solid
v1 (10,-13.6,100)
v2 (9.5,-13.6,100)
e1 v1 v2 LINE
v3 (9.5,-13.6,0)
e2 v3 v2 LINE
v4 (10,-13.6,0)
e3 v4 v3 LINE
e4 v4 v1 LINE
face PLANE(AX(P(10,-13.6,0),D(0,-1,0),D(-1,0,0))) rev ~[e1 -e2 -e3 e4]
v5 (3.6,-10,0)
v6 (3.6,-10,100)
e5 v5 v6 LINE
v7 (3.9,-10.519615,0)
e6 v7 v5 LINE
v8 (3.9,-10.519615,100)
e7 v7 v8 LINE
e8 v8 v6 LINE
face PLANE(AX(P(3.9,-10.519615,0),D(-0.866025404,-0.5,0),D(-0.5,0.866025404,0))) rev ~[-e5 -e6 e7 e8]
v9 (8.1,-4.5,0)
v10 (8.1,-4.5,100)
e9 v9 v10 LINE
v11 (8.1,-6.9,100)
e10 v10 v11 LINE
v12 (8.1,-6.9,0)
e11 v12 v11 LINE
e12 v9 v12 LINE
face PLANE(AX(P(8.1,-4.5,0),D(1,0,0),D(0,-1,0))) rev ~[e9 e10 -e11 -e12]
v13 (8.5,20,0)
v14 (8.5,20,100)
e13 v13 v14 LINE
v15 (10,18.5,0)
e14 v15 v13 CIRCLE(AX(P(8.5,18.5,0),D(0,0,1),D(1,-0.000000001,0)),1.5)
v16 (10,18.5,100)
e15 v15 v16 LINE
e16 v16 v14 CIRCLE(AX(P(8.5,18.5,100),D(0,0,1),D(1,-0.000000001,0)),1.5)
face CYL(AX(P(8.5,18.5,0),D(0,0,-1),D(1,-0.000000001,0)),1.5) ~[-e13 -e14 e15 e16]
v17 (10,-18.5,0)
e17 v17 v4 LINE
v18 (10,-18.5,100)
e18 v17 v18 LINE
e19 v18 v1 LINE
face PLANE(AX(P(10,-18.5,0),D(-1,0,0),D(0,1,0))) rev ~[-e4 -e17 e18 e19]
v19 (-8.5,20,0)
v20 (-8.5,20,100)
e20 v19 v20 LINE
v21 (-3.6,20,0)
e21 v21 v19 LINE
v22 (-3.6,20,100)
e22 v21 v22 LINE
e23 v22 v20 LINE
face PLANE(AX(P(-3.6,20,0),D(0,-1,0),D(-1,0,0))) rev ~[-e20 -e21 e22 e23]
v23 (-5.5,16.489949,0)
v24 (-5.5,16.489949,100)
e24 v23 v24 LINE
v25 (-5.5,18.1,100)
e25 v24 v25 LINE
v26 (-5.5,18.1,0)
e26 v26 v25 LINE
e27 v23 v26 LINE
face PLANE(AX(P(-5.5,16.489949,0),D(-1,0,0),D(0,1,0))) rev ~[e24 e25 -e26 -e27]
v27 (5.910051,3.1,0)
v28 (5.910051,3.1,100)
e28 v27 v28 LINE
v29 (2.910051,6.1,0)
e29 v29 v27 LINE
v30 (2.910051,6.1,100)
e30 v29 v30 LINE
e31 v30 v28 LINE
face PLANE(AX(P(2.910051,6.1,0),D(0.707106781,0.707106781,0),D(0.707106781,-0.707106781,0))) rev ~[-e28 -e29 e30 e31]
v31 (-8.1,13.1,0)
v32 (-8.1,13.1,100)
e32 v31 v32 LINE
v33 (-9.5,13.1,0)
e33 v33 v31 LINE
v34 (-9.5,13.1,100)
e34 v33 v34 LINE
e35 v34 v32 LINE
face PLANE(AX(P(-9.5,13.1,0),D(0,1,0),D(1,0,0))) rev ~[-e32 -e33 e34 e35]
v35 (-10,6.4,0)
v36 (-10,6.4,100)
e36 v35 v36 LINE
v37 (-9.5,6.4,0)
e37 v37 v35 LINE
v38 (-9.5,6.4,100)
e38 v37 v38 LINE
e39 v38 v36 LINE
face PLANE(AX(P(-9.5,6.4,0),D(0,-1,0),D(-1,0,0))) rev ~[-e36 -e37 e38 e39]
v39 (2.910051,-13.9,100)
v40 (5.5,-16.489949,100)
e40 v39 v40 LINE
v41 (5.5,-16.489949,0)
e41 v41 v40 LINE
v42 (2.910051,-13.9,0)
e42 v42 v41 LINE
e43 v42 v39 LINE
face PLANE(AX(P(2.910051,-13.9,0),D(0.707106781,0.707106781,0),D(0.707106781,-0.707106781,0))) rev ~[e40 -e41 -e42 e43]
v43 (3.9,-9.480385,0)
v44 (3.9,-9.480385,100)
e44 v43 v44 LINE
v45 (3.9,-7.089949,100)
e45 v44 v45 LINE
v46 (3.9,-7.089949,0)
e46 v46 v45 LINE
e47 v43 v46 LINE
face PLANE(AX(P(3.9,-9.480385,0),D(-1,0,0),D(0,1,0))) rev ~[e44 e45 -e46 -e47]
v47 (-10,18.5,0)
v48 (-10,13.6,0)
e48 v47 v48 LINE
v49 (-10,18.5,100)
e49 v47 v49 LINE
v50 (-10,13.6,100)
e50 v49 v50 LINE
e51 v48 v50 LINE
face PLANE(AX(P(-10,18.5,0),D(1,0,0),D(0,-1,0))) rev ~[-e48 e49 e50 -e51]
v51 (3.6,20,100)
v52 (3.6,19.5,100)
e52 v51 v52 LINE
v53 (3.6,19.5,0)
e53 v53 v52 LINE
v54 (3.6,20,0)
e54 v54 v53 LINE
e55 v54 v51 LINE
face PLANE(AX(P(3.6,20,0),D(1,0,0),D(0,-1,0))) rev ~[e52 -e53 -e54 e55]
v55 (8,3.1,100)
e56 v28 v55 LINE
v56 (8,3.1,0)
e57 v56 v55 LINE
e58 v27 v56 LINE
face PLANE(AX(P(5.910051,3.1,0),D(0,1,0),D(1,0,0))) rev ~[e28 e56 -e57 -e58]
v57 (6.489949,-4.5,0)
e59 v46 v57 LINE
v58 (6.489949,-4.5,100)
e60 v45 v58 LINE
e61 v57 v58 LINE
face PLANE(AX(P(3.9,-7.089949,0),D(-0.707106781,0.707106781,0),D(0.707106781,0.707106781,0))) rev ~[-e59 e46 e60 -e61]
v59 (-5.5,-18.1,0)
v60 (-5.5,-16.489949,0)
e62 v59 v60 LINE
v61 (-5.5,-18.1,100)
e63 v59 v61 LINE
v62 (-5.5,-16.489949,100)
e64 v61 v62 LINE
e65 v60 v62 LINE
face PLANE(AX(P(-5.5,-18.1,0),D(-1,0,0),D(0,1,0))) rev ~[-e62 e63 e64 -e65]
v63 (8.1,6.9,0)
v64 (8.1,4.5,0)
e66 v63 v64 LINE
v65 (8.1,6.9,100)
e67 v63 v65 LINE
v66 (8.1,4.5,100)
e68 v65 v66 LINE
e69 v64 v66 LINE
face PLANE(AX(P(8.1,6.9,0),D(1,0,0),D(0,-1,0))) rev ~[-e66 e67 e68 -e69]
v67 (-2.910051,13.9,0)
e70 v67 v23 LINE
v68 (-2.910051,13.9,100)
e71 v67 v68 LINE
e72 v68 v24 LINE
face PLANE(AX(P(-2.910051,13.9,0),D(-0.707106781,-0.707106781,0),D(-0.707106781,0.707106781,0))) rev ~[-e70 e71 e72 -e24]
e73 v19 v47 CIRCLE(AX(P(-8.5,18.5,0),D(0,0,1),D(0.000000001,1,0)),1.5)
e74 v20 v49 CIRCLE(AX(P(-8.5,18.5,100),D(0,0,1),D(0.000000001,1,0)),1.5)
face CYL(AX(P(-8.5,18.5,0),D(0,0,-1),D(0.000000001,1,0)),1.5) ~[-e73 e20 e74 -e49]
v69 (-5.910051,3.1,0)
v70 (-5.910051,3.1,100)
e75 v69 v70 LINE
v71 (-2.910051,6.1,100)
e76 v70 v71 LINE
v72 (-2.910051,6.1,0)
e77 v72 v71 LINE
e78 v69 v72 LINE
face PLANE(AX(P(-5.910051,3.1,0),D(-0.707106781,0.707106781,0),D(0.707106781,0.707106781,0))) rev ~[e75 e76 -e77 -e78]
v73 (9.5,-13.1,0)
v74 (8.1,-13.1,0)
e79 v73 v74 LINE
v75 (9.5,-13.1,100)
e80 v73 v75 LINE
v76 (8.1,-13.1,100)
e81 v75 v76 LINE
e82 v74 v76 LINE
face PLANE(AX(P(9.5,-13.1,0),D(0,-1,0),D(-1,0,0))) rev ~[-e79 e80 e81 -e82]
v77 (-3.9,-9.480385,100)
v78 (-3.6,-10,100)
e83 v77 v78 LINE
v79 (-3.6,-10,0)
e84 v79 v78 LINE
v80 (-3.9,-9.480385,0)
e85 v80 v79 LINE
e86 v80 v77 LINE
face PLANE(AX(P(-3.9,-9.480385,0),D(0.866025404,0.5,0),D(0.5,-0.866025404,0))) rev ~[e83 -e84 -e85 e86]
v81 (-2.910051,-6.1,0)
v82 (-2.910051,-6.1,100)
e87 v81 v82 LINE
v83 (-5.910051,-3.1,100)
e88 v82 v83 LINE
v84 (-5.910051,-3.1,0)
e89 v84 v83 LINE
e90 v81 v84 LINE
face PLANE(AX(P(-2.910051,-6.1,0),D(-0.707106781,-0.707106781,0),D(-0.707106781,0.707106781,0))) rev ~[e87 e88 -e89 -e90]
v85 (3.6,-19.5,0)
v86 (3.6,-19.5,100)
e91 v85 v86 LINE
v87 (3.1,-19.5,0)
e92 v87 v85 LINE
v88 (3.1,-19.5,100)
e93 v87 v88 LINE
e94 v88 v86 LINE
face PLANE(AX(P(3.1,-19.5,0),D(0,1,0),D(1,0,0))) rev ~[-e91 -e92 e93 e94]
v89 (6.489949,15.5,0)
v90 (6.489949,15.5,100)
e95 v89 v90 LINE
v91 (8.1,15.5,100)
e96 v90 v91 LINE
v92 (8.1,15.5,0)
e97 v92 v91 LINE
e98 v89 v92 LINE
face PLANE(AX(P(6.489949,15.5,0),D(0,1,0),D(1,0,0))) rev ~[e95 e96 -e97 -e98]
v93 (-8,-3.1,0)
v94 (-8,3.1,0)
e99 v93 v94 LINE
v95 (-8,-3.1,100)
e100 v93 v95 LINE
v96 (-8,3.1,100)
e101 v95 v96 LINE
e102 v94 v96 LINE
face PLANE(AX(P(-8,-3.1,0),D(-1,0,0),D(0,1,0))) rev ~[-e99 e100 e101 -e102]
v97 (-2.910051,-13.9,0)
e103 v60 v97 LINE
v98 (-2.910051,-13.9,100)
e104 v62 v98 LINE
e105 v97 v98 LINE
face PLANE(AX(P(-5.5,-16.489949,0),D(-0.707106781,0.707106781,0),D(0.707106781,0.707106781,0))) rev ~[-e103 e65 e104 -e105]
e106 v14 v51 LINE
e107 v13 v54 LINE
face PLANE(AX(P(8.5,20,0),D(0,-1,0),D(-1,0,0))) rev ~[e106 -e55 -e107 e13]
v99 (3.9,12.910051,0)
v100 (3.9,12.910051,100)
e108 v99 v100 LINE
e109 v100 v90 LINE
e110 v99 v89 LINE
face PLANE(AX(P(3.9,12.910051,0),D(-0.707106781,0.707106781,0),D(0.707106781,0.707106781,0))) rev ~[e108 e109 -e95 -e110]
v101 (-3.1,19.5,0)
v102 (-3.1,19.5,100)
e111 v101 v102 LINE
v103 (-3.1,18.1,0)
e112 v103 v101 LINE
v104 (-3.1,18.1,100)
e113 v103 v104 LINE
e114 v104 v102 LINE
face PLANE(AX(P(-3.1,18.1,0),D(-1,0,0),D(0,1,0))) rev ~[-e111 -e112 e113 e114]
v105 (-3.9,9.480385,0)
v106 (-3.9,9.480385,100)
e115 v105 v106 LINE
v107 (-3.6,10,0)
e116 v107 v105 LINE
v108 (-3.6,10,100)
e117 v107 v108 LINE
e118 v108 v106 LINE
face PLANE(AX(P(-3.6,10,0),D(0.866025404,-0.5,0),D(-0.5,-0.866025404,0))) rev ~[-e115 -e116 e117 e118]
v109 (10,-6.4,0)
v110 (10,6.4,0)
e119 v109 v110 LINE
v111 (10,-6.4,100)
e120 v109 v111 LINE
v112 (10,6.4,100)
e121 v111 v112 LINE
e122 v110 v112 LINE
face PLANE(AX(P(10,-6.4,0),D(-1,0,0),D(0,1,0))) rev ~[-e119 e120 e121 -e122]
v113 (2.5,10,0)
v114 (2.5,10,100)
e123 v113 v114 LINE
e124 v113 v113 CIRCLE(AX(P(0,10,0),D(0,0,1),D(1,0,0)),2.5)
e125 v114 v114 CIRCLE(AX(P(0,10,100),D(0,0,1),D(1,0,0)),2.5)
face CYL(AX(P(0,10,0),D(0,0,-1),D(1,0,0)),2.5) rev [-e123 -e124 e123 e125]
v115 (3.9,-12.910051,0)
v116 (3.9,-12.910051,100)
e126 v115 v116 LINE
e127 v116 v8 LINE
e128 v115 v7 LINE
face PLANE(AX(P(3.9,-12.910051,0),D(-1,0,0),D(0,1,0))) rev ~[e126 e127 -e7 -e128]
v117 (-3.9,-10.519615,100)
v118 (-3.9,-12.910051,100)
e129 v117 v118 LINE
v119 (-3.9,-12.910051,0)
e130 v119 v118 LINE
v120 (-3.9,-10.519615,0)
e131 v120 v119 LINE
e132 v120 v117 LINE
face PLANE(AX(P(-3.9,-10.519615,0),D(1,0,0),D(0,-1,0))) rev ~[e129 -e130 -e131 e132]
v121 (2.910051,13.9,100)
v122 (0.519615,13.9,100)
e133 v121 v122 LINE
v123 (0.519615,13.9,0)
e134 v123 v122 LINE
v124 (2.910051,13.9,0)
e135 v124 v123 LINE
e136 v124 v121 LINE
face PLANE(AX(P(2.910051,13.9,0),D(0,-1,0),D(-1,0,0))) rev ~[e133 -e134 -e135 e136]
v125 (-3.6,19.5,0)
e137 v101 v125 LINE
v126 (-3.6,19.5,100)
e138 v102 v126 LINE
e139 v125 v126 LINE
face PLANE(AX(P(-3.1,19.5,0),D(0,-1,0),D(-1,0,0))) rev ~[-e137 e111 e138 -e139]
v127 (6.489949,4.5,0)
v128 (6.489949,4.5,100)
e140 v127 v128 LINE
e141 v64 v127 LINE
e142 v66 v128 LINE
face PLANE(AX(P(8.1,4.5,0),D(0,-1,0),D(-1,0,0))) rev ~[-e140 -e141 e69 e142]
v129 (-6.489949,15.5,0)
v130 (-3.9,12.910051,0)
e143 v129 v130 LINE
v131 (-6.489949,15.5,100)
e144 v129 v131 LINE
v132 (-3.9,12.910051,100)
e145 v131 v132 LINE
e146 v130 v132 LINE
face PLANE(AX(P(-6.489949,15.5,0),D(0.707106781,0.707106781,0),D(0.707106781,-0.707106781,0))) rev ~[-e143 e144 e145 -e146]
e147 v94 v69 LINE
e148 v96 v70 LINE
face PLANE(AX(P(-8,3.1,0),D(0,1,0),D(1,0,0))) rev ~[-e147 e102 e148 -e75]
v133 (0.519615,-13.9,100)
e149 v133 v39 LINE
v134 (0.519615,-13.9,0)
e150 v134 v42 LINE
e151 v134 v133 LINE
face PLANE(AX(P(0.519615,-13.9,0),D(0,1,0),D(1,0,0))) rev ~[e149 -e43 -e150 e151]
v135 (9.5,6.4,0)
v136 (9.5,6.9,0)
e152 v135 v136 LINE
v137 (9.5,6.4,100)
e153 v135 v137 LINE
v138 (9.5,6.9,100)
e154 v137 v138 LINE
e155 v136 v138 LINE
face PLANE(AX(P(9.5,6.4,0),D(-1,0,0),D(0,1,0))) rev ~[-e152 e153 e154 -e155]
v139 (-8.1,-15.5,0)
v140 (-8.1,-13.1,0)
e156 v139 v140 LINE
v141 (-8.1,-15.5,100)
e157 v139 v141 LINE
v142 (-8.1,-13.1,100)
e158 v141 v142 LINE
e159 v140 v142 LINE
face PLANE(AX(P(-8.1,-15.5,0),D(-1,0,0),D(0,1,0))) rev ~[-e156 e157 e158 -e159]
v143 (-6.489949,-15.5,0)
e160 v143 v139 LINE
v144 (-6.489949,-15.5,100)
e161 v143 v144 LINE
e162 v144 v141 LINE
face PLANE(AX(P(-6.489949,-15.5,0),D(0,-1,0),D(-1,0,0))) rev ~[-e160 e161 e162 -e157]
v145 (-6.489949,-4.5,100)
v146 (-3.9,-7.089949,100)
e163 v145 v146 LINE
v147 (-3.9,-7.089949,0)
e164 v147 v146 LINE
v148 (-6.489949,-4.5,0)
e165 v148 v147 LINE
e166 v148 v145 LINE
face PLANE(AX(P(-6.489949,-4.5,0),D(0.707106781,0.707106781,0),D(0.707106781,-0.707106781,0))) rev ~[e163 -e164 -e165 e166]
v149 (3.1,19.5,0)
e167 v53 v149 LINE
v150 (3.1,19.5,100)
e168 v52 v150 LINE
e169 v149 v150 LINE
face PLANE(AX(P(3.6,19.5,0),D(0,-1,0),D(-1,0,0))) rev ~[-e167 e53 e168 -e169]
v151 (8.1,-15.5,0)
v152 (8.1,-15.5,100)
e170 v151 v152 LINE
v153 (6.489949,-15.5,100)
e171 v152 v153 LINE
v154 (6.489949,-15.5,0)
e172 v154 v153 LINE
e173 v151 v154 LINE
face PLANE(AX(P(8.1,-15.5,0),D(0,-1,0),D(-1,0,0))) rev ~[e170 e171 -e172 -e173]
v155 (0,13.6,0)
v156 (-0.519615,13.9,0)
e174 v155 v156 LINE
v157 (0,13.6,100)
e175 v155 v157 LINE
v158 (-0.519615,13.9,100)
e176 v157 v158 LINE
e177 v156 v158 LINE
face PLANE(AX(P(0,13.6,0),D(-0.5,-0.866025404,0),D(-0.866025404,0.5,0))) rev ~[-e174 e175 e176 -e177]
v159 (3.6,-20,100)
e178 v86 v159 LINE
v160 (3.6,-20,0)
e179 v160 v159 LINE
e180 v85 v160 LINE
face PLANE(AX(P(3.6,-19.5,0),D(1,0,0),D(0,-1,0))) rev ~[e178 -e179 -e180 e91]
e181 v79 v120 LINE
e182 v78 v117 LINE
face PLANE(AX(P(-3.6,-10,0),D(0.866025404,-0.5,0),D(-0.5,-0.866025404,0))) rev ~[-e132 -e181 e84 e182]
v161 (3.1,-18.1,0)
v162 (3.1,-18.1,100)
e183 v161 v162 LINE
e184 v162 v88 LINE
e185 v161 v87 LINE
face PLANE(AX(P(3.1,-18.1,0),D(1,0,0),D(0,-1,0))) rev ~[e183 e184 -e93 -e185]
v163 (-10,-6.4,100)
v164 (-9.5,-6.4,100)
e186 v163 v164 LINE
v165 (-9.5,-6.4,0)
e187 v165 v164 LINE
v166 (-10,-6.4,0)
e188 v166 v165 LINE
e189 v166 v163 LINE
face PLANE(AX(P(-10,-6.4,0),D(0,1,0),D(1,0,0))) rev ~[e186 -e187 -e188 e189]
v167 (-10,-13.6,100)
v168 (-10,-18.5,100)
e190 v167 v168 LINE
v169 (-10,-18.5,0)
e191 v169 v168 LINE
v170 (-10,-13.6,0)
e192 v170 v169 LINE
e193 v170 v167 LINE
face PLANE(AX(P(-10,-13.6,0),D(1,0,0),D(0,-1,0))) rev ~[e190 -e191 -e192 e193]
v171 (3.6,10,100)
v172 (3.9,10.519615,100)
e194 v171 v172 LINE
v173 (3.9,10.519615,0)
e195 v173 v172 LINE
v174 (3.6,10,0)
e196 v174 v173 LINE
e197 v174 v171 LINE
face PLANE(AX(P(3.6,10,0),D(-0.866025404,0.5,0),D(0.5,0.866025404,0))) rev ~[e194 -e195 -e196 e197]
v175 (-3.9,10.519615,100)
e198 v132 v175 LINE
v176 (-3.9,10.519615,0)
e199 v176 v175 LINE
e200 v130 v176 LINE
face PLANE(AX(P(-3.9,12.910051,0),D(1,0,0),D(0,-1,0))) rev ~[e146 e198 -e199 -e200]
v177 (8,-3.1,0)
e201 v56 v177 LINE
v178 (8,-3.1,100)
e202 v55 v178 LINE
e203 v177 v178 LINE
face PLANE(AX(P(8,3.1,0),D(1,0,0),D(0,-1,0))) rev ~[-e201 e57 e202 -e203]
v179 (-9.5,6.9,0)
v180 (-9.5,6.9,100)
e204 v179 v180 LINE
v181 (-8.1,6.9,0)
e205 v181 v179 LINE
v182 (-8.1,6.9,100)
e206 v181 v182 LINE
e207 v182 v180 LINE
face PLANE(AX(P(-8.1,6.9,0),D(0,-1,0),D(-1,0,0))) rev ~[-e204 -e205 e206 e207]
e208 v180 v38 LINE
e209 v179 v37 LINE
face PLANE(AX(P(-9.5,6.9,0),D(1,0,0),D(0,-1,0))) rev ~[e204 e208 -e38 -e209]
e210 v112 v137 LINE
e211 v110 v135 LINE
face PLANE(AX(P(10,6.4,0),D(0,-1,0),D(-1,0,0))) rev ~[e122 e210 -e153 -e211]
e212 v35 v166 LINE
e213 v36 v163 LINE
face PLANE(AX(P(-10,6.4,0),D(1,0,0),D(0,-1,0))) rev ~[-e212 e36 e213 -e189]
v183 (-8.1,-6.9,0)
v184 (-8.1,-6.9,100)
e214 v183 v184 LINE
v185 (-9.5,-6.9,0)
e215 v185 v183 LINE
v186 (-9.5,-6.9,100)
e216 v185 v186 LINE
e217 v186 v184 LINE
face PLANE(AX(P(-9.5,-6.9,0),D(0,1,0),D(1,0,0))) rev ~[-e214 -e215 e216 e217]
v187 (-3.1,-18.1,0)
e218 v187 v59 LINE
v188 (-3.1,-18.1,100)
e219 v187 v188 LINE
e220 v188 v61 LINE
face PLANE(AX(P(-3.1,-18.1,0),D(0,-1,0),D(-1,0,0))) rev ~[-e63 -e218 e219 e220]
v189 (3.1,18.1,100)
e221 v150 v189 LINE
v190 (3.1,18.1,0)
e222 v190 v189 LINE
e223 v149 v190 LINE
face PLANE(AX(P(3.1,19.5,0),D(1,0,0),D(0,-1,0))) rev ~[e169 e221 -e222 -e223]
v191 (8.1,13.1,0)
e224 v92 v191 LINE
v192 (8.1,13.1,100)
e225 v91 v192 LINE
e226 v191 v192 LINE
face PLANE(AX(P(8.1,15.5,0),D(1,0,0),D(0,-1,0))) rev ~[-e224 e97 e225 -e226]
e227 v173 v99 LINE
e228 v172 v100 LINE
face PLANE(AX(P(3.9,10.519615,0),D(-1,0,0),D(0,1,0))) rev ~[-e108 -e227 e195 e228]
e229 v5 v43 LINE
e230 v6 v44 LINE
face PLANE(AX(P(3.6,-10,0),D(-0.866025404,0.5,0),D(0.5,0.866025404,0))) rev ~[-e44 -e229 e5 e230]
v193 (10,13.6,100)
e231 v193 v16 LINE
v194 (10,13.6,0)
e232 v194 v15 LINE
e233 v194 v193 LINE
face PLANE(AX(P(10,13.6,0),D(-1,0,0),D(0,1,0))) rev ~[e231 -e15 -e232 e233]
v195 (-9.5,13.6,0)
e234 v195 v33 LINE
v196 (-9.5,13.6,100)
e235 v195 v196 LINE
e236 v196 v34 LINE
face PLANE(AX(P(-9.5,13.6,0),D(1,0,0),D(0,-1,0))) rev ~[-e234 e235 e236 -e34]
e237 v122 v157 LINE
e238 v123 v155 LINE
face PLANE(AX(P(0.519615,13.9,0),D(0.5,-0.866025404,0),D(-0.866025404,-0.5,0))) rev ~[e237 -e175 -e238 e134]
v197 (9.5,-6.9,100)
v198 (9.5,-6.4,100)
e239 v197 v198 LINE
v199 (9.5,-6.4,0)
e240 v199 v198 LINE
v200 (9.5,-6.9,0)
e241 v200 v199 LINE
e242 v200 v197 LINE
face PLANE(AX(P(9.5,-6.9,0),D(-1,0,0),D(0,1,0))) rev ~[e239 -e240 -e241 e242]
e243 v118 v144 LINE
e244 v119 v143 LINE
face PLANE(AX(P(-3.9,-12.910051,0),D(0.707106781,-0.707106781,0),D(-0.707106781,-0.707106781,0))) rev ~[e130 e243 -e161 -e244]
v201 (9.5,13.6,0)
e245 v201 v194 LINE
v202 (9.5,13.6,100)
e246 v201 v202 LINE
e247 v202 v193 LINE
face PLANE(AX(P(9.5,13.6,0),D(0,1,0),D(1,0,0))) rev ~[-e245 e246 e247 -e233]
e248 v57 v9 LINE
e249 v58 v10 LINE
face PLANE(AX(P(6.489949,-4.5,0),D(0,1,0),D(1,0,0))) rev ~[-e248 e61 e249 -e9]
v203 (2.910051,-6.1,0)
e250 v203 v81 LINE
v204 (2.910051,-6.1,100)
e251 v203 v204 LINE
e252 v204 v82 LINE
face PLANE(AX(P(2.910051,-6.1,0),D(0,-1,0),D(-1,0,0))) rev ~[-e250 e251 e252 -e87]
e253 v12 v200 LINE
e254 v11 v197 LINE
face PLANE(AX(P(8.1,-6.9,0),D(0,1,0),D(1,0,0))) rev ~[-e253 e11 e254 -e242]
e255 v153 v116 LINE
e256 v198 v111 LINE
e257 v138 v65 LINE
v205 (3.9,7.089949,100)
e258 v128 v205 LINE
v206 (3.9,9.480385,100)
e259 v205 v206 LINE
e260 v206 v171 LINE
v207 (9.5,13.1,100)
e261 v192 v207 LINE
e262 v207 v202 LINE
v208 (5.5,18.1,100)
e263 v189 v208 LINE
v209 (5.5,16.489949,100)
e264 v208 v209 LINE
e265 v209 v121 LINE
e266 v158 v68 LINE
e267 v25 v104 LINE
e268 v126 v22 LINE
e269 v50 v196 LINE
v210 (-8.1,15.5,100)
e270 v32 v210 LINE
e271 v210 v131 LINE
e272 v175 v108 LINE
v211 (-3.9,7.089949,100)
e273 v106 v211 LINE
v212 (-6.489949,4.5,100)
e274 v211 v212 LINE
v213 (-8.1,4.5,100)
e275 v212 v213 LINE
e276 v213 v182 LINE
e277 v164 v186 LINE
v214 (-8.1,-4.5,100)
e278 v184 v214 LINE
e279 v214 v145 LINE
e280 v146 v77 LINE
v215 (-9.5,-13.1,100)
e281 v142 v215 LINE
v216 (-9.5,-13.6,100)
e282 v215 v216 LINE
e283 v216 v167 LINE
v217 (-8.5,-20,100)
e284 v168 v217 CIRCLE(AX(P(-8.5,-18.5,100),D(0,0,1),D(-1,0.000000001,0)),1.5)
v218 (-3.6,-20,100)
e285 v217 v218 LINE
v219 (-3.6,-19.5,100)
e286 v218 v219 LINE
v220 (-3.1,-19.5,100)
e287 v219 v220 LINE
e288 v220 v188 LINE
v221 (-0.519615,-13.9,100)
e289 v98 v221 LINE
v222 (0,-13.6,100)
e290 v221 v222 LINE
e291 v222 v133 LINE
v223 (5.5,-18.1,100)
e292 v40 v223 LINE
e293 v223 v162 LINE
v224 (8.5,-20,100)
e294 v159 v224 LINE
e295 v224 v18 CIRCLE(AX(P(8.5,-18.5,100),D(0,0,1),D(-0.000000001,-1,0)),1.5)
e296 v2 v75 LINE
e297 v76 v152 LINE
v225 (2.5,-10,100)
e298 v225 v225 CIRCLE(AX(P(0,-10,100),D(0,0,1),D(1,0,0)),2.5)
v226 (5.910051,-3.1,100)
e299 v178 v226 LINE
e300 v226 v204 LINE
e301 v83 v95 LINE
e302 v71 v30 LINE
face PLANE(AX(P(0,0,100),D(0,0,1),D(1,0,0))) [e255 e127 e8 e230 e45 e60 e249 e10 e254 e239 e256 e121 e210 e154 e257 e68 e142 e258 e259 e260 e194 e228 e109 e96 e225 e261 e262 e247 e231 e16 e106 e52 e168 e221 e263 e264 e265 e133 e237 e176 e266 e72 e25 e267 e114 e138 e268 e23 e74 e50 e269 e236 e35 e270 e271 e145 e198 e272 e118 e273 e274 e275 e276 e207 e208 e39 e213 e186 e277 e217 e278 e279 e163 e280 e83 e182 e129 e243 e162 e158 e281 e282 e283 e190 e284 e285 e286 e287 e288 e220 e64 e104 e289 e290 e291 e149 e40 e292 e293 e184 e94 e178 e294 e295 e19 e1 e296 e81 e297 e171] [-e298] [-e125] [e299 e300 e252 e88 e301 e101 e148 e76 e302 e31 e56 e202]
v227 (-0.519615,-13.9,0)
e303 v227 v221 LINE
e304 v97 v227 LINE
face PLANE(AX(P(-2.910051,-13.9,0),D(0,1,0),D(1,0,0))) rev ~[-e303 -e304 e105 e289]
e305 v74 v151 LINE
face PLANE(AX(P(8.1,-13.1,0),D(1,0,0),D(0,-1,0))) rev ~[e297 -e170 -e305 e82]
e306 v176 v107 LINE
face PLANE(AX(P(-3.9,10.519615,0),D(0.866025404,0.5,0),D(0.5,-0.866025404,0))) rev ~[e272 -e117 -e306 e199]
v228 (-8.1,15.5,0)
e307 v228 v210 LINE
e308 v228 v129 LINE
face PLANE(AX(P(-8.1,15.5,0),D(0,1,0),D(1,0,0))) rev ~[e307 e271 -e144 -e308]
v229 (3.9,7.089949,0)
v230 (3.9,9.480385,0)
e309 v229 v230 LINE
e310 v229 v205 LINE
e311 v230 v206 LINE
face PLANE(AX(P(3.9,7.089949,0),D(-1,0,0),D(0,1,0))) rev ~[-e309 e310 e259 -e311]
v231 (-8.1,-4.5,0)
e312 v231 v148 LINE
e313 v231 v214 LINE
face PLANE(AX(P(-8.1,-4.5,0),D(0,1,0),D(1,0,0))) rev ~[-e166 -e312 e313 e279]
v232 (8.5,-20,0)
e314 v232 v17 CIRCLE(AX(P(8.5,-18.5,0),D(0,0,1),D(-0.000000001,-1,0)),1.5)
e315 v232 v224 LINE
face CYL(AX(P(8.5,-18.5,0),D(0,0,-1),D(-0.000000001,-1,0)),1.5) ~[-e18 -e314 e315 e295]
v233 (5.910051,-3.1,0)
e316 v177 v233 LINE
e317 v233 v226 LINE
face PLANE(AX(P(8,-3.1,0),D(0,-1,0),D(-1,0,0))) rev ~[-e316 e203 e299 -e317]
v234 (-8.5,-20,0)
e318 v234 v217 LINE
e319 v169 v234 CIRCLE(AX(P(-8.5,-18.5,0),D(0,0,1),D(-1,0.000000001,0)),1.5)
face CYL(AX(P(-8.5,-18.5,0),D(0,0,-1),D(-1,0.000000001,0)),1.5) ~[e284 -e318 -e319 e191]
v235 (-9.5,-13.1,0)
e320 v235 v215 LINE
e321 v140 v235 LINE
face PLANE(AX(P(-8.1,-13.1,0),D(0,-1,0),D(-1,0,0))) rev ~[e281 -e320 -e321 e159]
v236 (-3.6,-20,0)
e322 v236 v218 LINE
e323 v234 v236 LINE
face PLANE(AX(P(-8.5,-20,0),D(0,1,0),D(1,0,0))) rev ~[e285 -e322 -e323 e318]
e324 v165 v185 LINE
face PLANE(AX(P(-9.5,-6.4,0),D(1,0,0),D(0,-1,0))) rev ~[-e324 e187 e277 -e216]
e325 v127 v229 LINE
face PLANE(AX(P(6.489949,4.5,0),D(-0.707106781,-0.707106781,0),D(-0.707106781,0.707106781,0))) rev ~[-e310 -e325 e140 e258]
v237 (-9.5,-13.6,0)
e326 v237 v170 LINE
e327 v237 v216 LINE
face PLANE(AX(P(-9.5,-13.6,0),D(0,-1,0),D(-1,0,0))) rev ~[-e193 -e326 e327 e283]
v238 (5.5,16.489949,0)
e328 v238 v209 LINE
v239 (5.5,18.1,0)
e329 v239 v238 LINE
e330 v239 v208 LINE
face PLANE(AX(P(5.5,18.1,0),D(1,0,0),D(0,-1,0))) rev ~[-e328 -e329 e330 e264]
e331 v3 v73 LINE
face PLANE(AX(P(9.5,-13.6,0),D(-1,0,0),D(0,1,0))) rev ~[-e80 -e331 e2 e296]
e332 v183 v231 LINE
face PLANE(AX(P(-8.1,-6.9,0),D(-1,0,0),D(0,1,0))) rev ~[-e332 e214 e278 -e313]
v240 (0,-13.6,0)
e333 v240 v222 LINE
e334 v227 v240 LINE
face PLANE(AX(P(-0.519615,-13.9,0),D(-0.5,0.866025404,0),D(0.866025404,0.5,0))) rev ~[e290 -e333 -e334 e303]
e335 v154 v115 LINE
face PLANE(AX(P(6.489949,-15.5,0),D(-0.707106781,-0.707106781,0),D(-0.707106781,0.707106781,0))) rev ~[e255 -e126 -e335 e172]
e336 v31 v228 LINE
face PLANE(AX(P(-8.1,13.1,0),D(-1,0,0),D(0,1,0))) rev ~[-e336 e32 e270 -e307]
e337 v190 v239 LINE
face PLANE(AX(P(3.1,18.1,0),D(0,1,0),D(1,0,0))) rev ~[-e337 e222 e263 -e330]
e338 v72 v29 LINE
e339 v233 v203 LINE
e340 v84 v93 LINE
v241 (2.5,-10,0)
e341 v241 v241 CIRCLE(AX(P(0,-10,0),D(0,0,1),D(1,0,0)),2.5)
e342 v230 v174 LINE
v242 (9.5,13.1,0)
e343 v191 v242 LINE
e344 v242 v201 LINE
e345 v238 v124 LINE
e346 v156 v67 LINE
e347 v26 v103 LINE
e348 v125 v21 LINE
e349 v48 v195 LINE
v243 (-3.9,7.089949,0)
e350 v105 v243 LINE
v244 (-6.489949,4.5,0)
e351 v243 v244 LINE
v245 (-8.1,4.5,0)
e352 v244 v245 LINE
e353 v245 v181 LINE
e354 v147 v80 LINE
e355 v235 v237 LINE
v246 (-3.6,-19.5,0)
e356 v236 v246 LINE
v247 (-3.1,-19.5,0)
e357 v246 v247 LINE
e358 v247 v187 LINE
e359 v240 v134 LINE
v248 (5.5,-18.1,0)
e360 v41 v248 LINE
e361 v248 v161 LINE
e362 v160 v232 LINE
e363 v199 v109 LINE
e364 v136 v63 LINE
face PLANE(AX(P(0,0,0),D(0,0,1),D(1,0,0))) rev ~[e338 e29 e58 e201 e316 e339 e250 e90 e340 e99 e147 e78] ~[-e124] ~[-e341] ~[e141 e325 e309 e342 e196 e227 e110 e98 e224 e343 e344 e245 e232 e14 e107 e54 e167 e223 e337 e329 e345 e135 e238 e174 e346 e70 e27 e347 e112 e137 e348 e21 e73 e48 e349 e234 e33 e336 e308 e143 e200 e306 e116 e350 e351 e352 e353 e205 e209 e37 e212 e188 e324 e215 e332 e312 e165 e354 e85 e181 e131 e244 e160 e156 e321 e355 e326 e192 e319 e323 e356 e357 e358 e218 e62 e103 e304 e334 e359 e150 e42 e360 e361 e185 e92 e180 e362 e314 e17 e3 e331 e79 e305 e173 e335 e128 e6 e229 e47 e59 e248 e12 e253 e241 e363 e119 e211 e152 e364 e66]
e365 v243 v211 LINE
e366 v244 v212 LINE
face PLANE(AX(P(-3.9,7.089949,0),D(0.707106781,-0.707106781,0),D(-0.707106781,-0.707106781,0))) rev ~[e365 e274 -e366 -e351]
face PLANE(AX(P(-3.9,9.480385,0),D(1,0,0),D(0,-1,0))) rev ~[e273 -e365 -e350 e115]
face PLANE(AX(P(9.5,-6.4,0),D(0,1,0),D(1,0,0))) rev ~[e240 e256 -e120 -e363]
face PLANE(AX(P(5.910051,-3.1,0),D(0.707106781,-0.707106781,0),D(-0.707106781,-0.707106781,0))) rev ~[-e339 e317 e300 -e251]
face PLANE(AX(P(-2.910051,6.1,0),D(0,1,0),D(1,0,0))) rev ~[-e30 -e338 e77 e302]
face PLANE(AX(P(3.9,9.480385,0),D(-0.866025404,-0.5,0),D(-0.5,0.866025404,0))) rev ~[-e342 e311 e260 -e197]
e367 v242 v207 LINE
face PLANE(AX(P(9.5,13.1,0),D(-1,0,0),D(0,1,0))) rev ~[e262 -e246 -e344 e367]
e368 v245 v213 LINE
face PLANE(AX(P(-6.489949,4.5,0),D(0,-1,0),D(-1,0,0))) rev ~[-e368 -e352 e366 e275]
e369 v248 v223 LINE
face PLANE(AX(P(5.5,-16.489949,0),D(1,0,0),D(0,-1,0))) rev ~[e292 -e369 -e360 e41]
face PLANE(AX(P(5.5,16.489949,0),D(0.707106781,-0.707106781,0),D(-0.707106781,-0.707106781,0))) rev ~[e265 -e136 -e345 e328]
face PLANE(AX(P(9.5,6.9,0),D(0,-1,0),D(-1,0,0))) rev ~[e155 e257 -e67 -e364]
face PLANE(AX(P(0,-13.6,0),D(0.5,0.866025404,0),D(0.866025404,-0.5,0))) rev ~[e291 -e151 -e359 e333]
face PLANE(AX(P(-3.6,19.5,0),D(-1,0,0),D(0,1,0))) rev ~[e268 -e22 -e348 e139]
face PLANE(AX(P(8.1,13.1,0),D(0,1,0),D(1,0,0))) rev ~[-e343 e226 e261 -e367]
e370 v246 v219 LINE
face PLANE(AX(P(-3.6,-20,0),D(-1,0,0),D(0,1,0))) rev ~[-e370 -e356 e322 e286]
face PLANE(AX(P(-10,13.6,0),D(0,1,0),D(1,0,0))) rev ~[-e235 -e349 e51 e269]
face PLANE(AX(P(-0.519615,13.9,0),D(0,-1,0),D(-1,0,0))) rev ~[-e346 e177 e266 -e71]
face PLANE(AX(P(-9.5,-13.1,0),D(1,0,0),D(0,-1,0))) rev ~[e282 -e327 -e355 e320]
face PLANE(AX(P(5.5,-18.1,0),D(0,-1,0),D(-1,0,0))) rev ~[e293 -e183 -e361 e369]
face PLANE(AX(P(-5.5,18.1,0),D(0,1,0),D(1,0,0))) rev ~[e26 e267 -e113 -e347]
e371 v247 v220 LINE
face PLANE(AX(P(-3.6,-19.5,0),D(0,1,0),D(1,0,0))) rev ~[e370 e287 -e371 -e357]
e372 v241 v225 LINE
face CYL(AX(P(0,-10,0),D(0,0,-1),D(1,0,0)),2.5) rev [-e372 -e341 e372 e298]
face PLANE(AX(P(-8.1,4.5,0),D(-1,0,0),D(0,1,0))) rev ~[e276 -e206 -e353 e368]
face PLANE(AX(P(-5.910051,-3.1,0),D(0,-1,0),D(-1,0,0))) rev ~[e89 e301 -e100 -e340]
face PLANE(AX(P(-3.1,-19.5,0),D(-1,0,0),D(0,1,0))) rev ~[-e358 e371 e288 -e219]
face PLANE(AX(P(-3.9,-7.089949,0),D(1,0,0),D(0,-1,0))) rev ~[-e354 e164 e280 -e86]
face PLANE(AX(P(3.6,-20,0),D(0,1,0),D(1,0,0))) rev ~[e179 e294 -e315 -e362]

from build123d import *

# Parameters (mm, degrees)
MODEL_R         = 2.5
EXTRUDE_1_DEPTH = 100


with BuildPart() as part:
    # Model → 凸台-拉伸1 (new body)
    with BuildSketch(Plane.XY):
        with BuildLine():
            Line((-3.6, 10), (-3.9, 9.480384758))
            Line((-3.9, 9.480384758), (-3.9, 7.089949494))
            Line((-3.9, 7.089949494), (-6.489949494, 4.5))
            Line((-6.489949494, 4.5), (-8.1, 4.5))
            Line((-8.1, 4.5), (-8.1, 6.9))
            Line((-8.1, 6.9), (-9.5, 6.9))
            Line((-9.5, 6.9), (-9.5, 6.4))
            Line((-9.5, 6.4), (-10, 6.4))
            Line((-10, 6.4), (-10, -6.4))
            Line((-10, -6.4), (-9.5, -6.4))
            Line((-9.5, -6.4), (-9.5, -6.9))
            Line((-9.5, -6.9), (-8.1, -6.9))
            Line((-8.1, -6.9), (-8.1, -4.5))
            Line((-8.1, -4.5), (-6.489949494, -4.5))
            Line((-6.489949494, -4.5), (-3.9, -7.089949494))
            Line((-3.9, -7.089949494), (-3.9, -9.480384758))
            Line((-3.9, -9.480384758), (-3.6, -10))
            Line((-3.6, -10), (-3.9, -10.519615242))
            Line((-3.9, -10.519615242), (-3.9, -12.910050506))
            Line((-3.9, -12.910050506), (-6.489949494, -15.5))
            Line((-6.489949494, -15.5), (-8.1, -15.5))
            Line((-8.1, -15.5), (-8.1, -13.1))
            Line((-8.1, -13.1), (-9.5, -13.1))
            Line((-9.5, -13.1), (-9.5, -13.6))
            Line((-9.5, -13.6), (-10, -13.6))
            Line((-10, -13.6), (-10, -18.5))
            ThreePointArc((-10, -18.5), (-9.560660172, -19.560660172), (-8.5, -20))
            Line((-8.5, -20), (-3.6, -20))
            Line((-3.6, -20), (-3.6, -19.5))
            Line((-3.6, -19.5), (-3.1, -19.5))
            Line((-3.1, -19.5), (-3.1, -18.1))
            Line((-3.1, -18.1), (-5.5, -18.1))
            Line((-5.5, -18.1), (-5.5, -16.489949494))
            Line((-5.5, -16.489949494), (-2.910050506, -13.9))
            Line((-2.910050506, -13.9), (-0.519615242, -13.9))
            Line((-0.519615242, -13.9), (0, -13.6))
            Line((0, -13.6), (0.519615242, -13.9))
            Line((0.519615242, -13.9), (2.910050506, -13.9))
            Line((2.910050506, -13.9), (5.5, -16.489949494))
            Line((5.5, -16.489949494), (5.5, -18.1))
            Line((5.5, -18.1), (3.1, -18.1))
            Line((3.1, -18.1), (3.1, -19.5))
            Line((3.1, -19.5), (3.6, -19.5))
            Line((3.6, -19.5), (3.6, -20))
            Line((3.6, -20), (8.5, -20))
            ThreePointArc((8.5, -20), (9.560660172, -19.560660172), (10, -18.5))
            Line((10, -18.5), (10, -13.6))
            Line((10, -13.6), (9.5, -13.6))
            Line((9.5, -13.6), (9.5, -13.1))
            Line((9.5, -13.1), (8.1, -13.1))
            Line((8.1, -13.1), (8.1, -15.5))
            Line((8.1, -15.5), (6.489949494, -15.5))
            Line((6.489949494, -15.5), (3.9, -12.910050506))
            Line((3.9, -12.910050506), (3.9, -10.519615242))
            Line((3.9, -10.519615242), (3.6, -10))
            Line((3.6, -10), (3.9, -9.480384758))
            Line((3.9, -9.480384758), (3.9, -7.089949494))
            Line((3.9, -7.089949494), (6.489949494, -4.5))
            Line((6.489949494, -4.5), (8.1, -4.5))
            Line((8.1, -4.5), (8.1, -6.9))
            Line((8.1, -6.9), (9.5, -6.9))
            Line((9.5, -6.9), (9.5, -6.4))
            Line((9.5, -6.4), (10, -6.4))
            Line((10, -6.4), (10, 6.4))
            Line((10, 6.4), (9.5, 6.4))
            Line((9.5, 6.4), (9.5, 6.9))
            Line((9.5, 6.9), (8.1, 6.9))
            Line((8.1, 6.9), (8.1, 4.5))
            Line((8.1, 4.5), (6.489949494, 4.5))
            Line((6.489949494, 4.5), (3.9, 7.089949494))
            Line((3.9, 7.089949494), (3.9, 9.480384758))
            Line((3.9, 9.480384758), (3.6, 10))
            Line((3.6, 10), (3.9, 10.519615242))
            Line((3.9, 10.519615242), (3.9, 12.910050506))
            Line((3.9, 12.910050506), (6.489949494, 15.5))
            Line((6.489949494, 15.5), (8.1, 15.5))
            Line((8.1, 15.5), (8.1, 13.1))
            Line((8.1, 13.1), (9.5, 13.1))
            Line((9.5, 13.1), (9.5, 13.6))
            Line((9.5, 13.6), (10, 13.6))
            Line((10, 13.6), (10, 18.5))
            ThreePointArc((10, 18.5), (9.560660172, 19.560660172), (8.5, 20))
            Line((8.5, 20), (3.6, 20))
            Line((3.6, 20), (3.6, 19.5))
            Line((3.6, 19.5), (3.1, 19.5))
            Line((3.1, 19.5), (3.1, 18.1))
            Line((3.1, 18.1), (5.5, 18.1))
            Line((5.5, 18.1), (5.5, 16.489949494))
            Line((5.5, 16.489949494), (2.910050506, 13.9))
            Line((2.910050506, 13.9), (0.519615242, 13.9))
            Line((0.519615242, 13.9), (0, 13.6))
            Line((0, 13.6), (-0.519615242, 13.9))
            Line((-0.519615242, 13.9), (-2.910050506, 13.9))
            Line((-2.910050506, 13.9), (-5.5, 16.489949494))
            Line((-5.5, 16.489949494), (-5.5, 18.1))
            Line((-5.5, 18.1), (-3.1, 18.1))
            Line((-3.1, 18.1), (-3.1, 19.5))
            Line((-3.1, 19.5), (-3.6, 19.5))
            Line((-3.6, 19.5), (-3.6, 20))
            Line((-3.6, 20), (-8.5, 20))
            ThreePointArc((-8.5, 20), (-9.560660172, 19.560660172), (-10, 18.5))
            Line((-10, 18.5), (-10, 13.6))
            Line((-10, 13.6), (-9.5, 13.6))
            Line((-9.5, 13.6), (-9.5, 13.1))
            Line((-9.5, 13.1), (-8.1, 13.1))
            Line((-8.1, 13.1), (-8.1, 15.5))
            Line((-8.1, 15.5), (-6.489949494, 15.5))
            Line((-6.489949494, 15.5), (-3.9, 12.910050506))
            Line((-3.9, 12.910050506), (-3.9, 10.519615242))
            Line((-3.9, 10.519615242), (-3.6, 10))
        make_face()
        with Locations((0, 10)):
            Circle(MODEL_R, mode=Mode.SUBTRACT)
        with Locations((0, -10)):
            Circle(MODEL_R, mode=Mode.SUBTRACT)
        Polygon((8, -3.1), (5.910050506, -3.1), (2.910050506, -6.1), (-2.910050506, -6.1), (-5.910050506, -3.1), (-8, -3.1), (-8, 3.1), (-5.910050506, 3.1), (-2.910050506, 6.1), (2.910050506, 6.1), (5.910050506, 3.1), (8, 3.1), align=None, mode=Mode.SUBTRACT)
    extrude(amount=EXTRUDE_1_DEPTH)


solid = part.part
